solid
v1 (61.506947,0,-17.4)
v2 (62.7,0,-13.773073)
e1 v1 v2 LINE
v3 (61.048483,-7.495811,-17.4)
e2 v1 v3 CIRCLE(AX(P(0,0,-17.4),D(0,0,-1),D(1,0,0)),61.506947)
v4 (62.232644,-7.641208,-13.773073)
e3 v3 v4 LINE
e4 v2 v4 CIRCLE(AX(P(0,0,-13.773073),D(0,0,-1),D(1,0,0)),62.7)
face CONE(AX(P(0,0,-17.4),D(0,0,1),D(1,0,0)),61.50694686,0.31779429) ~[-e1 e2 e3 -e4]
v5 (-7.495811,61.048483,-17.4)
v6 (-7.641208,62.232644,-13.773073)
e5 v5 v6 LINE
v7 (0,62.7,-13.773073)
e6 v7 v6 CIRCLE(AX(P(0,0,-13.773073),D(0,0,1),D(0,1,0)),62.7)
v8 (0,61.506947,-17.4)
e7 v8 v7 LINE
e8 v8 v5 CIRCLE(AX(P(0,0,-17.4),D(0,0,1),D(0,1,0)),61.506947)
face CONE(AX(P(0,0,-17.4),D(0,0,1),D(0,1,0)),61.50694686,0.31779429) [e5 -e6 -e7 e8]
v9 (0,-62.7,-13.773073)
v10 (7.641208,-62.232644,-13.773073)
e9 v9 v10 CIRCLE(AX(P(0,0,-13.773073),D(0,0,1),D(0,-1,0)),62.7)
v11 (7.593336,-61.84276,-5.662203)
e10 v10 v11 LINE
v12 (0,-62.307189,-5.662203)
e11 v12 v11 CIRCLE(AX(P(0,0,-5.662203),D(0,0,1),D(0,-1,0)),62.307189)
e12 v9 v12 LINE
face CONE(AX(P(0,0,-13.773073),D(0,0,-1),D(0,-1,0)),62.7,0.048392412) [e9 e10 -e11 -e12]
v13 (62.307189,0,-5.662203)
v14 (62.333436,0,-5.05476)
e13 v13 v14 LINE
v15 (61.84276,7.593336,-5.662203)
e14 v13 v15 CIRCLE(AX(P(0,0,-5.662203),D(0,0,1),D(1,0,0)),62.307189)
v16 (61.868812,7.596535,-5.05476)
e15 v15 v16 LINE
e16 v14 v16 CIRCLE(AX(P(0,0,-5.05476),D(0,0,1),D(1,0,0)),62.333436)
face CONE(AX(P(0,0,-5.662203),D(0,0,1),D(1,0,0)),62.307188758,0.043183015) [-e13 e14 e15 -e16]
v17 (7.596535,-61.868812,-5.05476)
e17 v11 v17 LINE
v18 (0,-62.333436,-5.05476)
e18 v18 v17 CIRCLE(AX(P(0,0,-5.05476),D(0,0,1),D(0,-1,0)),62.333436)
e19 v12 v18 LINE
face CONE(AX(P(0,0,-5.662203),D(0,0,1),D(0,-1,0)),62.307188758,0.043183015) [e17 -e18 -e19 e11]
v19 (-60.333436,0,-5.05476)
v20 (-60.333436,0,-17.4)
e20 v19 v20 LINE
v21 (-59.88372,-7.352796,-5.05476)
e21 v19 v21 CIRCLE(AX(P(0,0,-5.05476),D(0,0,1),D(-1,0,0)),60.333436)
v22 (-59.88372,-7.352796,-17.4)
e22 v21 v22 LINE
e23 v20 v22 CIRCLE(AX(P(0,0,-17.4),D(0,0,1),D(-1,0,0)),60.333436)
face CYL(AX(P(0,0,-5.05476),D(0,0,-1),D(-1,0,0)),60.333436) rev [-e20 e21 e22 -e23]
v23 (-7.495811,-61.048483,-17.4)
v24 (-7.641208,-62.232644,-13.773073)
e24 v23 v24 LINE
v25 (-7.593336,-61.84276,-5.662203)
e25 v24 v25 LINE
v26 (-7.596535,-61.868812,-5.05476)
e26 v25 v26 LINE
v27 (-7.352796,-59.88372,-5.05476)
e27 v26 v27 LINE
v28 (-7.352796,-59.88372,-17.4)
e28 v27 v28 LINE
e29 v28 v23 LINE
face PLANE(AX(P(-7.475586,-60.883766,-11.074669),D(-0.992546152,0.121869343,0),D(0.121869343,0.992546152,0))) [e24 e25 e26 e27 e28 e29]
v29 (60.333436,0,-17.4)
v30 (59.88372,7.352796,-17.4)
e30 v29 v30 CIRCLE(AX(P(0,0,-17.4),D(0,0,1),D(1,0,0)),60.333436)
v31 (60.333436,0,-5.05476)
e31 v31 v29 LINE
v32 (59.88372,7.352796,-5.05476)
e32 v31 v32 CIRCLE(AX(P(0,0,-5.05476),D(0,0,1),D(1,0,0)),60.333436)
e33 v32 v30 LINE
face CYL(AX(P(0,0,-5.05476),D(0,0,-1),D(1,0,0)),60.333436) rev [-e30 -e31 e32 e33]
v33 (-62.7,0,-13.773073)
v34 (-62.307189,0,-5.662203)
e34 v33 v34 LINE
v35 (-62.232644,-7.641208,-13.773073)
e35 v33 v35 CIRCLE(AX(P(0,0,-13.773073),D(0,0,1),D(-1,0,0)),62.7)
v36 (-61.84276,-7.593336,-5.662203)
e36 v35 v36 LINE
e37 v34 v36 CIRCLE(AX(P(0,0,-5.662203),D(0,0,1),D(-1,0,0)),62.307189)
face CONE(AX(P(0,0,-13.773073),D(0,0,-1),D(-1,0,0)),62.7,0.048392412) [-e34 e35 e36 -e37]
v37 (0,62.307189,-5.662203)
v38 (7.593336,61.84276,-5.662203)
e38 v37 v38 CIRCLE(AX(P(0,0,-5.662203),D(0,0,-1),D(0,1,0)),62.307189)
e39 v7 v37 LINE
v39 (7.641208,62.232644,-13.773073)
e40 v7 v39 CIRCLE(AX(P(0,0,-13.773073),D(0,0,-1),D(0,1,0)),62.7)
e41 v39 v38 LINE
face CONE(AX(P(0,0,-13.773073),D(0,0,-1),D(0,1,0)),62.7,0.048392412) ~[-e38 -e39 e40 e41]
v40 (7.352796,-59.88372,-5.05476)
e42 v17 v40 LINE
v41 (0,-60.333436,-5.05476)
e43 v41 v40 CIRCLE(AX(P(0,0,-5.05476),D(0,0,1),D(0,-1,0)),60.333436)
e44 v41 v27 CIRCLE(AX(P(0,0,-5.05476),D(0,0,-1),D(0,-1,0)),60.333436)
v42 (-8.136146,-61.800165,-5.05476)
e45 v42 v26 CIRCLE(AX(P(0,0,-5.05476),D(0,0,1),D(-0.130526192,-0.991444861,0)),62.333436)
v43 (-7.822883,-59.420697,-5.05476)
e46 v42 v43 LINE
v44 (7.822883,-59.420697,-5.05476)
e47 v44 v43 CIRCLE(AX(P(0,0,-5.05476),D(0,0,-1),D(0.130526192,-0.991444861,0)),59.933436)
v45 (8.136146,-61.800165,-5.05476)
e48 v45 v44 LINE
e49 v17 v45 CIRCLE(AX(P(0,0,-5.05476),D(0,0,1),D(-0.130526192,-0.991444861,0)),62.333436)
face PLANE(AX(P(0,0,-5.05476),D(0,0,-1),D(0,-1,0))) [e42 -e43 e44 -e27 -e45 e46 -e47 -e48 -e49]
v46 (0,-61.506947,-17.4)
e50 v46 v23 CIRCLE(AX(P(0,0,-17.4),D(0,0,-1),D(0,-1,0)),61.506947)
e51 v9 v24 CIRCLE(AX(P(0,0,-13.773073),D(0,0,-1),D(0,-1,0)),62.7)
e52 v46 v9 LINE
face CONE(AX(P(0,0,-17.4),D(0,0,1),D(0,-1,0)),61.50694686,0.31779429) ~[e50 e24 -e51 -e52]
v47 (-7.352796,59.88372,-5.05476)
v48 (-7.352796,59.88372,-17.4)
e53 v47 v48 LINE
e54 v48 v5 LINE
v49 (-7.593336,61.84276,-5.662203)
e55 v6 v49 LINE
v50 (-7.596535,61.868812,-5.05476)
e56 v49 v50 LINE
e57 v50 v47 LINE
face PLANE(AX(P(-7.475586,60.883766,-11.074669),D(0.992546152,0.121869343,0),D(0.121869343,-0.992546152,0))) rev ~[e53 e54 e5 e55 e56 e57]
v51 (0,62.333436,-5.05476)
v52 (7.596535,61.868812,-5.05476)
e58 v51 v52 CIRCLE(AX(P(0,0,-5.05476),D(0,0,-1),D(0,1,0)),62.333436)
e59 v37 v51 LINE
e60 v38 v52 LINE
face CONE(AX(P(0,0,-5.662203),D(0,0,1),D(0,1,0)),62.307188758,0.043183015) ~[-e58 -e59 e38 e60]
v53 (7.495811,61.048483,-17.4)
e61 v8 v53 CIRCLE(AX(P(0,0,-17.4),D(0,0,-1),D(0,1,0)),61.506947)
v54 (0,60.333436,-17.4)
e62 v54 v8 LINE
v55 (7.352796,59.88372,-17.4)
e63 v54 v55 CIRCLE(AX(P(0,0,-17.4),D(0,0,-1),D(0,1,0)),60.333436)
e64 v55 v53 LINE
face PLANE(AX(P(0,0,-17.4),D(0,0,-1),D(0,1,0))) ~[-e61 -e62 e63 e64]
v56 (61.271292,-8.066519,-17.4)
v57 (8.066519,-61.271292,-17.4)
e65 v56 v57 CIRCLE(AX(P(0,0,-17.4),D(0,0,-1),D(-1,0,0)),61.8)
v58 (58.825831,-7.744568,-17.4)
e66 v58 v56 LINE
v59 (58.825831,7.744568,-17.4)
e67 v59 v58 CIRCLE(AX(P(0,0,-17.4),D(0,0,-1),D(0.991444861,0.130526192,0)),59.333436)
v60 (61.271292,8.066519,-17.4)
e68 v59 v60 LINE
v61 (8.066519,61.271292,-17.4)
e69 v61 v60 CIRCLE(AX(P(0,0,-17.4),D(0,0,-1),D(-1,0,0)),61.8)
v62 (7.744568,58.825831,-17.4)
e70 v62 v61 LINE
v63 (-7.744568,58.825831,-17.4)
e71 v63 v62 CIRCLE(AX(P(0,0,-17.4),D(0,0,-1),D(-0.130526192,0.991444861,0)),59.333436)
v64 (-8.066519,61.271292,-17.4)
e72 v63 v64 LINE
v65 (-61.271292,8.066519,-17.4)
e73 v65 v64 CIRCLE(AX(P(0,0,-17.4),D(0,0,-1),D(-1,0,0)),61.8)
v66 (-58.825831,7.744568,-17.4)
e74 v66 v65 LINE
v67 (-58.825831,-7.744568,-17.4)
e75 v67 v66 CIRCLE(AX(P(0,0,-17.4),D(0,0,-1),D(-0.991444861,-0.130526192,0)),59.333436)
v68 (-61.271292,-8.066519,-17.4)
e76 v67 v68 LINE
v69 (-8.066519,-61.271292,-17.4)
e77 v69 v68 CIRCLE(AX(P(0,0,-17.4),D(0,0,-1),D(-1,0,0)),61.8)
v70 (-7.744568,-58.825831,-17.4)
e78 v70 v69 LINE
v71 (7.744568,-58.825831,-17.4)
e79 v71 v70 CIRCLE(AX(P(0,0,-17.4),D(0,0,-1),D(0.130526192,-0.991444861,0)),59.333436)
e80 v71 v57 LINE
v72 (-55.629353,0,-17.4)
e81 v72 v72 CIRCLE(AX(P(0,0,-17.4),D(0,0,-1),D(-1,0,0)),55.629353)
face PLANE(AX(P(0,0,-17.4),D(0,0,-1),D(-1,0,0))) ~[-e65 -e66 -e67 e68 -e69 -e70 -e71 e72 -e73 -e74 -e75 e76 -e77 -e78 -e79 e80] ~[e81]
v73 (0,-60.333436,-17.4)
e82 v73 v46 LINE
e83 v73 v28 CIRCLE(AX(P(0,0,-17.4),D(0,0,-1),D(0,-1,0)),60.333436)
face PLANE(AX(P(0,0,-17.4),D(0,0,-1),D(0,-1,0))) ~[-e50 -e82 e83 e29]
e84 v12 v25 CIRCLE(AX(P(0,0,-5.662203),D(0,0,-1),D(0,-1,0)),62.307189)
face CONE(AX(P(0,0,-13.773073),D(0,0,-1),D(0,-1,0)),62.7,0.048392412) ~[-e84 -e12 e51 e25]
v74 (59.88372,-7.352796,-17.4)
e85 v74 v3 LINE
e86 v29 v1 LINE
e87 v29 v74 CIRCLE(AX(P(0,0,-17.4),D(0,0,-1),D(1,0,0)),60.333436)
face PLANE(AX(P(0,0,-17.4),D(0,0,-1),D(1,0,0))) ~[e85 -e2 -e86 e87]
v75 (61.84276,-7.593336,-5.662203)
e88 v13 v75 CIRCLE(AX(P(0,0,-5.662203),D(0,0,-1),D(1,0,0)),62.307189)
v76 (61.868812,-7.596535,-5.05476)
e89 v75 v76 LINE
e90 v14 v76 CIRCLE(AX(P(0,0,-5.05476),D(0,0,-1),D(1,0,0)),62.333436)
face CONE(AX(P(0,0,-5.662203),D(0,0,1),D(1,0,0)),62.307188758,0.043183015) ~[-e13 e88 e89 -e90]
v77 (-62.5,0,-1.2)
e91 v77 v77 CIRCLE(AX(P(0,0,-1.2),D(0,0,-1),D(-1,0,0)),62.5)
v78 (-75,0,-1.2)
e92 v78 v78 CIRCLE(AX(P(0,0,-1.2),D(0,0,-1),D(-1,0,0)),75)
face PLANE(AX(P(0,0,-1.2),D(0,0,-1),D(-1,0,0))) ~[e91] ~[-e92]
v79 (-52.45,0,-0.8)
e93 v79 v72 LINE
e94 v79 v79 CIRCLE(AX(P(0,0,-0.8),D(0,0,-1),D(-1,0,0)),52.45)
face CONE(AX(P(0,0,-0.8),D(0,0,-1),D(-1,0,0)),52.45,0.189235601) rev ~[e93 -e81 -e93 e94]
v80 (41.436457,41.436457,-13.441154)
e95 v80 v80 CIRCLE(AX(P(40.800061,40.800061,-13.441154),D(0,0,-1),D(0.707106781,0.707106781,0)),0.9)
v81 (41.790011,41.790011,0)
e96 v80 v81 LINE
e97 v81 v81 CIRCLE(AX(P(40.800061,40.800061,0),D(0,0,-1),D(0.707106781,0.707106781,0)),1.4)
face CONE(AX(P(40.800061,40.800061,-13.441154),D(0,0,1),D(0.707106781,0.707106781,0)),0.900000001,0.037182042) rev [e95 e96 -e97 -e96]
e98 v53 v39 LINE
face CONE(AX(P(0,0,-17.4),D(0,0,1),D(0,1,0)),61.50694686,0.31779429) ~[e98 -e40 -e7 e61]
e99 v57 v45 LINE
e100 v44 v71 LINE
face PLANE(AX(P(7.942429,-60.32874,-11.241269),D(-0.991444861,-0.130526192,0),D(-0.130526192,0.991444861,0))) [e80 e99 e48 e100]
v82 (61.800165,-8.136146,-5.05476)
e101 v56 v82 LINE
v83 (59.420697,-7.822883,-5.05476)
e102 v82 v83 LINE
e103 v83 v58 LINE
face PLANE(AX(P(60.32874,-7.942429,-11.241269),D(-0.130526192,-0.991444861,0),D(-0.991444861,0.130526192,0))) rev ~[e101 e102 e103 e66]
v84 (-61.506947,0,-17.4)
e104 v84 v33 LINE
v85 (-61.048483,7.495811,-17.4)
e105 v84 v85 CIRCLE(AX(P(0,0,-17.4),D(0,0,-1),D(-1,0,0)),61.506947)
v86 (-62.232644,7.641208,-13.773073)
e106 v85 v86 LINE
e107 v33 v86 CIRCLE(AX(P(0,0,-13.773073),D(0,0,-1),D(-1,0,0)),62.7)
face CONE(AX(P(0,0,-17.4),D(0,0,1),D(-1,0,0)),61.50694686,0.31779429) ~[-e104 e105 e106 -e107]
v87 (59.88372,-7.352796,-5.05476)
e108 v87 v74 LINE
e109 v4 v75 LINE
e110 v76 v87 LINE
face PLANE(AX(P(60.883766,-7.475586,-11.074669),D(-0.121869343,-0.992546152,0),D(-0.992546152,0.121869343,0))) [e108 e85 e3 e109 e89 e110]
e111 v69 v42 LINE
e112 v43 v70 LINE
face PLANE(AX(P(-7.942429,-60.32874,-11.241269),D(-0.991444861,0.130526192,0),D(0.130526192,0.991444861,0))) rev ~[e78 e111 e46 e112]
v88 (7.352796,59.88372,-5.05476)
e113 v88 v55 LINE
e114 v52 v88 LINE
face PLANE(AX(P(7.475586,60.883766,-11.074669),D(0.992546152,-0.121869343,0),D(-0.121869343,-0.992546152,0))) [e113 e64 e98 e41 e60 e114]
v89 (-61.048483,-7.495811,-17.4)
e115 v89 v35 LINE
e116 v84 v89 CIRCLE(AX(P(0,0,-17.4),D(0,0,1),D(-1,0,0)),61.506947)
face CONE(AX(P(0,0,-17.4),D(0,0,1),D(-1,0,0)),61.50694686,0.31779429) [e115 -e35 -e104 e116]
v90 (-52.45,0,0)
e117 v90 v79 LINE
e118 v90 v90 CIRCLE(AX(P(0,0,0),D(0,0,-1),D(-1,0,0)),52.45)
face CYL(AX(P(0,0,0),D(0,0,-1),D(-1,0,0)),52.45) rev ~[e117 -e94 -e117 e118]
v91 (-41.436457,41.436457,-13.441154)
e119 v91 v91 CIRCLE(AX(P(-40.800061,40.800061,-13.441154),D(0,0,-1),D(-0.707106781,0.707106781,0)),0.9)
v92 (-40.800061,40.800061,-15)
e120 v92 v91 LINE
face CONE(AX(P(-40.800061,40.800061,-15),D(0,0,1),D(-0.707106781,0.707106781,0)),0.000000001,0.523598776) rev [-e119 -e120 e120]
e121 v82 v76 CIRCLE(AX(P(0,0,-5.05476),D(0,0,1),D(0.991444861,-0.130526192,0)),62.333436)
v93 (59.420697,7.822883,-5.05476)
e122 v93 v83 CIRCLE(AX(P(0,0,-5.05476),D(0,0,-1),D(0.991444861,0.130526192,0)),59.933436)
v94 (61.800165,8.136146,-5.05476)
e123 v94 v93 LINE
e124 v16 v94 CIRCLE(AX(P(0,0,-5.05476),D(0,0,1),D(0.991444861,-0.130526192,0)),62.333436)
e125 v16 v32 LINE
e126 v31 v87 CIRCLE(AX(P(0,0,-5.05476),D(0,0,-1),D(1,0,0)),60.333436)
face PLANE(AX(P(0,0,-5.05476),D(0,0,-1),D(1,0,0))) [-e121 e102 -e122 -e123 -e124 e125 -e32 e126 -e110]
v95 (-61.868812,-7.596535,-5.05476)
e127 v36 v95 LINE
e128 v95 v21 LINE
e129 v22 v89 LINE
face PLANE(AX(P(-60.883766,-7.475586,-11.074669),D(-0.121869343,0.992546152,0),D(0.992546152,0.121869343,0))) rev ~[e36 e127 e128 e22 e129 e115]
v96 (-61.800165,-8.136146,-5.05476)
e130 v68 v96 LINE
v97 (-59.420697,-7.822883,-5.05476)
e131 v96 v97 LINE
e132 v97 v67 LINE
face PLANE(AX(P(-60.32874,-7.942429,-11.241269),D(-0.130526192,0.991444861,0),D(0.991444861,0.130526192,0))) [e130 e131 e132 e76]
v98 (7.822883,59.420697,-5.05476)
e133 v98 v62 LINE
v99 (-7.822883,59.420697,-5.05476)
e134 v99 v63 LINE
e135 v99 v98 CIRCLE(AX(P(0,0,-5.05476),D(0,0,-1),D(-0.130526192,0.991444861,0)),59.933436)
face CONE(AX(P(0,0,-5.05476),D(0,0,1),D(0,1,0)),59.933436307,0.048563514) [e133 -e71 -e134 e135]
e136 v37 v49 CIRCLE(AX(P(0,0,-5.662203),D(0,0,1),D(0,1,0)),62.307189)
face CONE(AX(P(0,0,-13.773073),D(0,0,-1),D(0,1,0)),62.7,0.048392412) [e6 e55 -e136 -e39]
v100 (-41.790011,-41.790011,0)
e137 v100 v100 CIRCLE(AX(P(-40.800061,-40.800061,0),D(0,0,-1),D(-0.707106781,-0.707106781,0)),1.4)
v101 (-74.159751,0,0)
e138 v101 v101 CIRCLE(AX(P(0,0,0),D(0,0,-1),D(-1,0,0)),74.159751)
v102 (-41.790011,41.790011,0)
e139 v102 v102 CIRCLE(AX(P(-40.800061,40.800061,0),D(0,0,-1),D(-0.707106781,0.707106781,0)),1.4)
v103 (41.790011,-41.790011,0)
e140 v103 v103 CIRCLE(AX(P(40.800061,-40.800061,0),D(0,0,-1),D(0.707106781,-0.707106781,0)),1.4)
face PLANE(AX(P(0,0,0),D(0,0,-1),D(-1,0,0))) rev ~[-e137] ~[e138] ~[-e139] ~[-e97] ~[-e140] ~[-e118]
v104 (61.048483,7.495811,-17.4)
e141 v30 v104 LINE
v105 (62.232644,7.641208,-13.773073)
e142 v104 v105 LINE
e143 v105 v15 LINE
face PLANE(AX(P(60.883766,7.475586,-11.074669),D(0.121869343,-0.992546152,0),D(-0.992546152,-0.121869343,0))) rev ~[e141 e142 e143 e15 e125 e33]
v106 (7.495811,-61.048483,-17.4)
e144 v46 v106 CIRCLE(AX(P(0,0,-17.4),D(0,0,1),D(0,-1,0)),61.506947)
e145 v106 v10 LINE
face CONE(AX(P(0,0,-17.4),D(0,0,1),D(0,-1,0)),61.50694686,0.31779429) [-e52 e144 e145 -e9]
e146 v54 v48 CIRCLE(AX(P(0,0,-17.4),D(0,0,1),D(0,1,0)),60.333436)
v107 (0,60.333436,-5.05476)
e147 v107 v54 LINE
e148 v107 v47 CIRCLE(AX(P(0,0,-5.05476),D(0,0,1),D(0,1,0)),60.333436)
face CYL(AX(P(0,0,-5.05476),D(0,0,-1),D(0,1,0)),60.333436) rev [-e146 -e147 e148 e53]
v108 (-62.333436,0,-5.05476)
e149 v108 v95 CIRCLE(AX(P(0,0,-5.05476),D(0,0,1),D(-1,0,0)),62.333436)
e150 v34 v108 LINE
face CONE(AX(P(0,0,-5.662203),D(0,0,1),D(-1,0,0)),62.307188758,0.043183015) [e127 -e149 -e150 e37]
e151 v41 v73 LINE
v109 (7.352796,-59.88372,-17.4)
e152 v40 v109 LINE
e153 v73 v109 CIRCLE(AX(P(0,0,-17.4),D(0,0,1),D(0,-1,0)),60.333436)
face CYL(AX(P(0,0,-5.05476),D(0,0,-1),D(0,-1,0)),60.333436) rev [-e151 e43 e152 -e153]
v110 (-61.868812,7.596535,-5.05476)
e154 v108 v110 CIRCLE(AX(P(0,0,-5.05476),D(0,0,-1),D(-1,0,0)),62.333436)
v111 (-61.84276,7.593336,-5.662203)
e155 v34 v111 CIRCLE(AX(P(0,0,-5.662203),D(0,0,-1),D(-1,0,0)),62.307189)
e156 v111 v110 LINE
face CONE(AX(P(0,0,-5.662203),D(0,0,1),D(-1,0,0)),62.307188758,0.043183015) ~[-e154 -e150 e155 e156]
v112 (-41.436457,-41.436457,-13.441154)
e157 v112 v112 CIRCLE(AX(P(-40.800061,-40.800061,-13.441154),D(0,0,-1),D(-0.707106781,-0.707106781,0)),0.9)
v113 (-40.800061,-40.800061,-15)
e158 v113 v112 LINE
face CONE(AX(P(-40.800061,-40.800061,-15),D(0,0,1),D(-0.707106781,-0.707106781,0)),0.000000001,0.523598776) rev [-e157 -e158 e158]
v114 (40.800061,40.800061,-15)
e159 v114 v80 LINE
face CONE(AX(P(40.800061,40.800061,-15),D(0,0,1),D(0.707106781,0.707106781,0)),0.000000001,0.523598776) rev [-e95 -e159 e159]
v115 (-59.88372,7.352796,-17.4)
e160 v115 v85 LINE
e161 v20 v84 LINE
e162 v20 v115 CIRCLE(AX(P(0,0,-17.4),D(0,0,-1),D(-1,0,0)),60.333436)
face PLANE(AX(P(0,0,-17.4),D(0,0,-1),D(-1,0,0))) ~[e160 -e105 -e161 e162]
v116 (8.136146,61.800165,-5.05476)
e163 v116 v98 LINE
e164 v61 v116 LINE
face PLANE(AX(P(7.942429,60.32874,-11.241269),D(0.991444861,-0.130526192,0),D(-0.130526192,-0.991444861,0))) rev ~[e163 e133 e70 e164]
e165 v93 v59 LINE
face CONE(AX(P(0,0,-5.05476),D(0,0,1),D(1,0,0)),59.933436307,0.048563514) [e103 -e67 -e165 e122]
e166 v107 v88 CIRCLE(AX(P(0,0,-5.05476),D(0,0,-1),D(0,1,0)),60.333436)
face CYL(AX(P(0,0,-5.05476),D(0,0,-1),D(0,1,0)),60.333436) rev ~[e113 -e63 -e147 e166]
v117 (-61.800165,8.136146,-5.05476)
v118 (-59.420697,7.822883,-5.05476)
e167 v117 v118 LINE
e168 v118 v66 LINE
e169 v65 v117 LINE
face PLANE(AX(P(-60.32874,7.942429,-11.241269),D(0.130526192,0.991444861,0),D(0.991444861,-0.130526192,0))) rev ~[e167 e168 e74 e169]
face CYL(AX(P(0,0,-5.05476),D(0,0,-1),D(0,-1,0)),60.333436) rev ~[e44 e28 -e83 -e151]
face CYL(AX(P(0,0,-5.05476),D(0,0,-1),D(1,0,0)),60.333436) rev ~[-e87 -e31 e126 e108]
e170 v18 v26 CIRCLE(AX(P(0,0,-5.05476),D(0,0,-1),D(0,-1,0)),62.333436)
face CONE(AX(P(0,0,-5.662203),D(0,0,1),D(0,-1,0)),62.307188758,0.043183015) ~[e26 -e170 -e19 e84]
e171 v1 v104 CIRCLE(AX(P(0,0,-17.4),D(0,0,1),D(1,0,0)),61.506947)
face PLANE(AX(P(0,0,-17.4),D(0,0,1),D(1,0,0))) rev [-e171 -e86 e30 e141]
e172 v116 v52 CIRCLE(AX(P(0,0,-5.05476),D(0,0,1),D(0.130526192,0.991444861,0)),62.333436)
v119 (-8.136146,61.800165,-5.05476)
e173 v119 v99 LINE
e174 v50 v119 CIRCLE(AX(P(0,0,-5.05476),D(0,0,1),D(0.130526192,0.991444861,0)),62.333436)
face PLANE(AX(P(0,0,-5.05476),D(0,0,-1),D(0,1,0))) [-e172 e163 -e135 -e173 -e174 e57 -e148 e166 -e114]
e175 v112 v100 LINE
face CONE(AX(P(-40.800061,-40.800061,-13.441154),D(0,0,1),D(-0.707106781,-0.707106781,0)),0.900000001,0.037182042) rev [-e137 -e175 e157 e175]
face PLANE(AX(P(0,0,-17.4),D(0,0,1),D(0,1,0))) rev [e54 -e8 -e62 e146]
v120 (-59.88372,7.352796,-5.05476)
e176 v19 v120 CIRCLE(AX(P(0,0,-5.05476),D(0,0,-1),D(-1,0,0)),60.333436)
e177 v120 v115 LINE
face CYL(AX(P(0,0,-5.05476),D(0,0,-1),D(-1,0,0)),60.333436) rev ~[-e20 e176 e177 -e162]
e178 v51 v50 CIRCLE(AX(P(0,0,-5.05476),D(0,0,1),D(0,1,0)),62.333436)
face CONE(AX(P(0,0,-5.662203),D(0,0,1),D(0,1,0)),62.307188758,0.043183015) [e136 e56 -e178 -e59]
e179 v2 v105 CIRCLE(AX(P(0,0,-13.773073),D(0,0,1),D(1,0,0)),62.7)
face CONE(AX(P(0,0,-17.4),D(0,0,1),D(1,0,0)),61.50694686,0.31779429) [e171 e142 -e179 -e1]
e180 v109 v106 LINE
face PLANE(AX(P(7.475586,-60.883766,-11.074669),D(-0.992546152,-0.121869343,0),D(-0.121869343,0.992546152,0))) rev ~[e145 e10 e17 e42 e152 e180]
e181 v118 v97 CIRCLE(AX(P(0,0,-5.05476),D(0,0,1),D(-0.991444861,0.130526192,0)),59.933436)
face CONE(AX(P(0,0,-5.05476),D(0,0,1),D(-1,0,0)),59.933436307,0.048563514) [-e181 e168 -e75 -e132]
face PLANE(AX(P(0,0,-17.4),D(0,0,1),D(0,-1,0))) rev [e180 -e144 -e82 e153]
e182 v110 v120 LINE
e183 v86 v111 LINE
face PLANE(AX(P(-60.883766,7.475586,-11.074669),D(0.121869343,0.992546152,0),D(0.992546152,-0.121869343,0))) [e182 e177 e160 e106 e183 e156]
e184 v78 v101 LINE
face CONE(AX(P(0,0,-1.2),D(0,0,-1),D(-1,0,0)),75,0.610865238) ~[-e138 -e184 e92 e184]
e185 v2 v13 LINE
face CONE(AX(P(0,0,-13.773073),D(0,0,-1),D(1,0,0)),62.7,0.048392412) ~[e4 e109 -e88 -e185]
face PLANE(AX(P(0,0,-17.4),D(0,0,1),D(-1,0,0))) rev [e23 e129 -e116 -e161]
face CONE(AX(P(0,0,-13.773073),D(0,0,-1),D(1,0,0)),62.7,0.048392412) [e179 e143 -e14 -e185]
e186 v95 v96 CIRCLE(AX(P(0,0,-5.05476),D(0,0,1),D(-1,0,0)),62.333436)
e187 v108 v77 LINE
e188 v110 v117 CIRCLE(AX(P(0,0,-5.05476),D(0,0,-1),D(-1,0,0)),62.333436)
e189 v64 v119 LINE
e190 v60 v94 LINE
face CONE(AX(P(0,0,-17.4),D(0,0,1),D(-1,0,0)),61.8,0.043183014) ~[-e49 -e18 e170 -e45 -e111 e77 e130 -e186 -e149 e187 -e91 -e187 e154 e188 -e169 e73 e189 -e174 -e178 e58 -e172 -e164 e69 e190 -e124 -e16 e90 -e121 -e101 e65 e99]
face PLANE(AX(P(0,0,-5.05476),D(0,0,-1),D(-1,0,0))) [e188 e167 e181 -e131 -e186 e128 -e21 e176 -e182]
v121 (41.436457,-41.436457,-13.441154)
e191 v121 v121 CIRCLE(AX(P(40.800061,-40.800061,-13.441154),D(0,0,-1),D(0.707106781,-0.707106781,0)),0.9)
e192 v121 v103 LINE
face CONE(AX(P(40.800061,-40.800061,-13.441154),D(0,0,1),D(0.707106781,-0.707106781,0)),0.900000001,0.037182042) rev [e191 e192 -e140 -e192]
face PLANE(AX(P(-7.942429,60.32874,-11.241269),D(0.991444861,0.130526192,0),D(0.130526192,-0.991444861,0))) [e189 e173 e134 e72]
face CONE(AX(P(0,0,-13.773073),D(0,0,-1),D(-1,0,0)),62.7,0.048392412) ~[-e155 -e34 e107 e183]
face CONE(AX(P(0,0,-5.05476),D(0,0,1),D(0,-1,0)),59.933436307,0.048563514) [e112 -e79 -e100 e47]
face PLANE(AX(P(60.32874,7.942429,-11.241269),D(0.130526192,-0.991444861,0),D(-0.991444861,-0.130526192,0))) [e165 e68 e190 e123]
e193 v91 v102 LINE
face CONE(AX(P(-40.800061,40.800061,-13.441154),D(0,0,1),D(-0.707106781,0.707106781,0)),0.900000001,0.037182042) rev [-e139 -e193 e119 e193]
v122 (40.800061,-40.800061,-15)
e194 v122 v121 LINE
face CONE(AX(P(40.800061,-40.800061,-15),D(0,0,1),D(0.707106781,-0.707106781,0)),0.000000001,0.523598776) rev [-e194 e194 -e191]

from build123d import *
from build123d.topology import SkipClean

# Parameters (mm, degrees)
CLAMP_CUTOFF_ANGLE = 15
CLAMP_BODY_ANGLE   = 14
CLAMP_ARRAY_COUNT  = 4
HOLES_ARRAY_COUNT  = 4


with BuildPart() as part:
    # Main_profile → Main_body (revolve)
    with BuildSketch(Plane(origin=(0, 0, 0), x_dir=(1, 0, 0), z_dir=(0, 1, 0))):
        Polygon((-75, 1.2), (-74.159750954, 0), (-52.45, 0), (-52.45, 0.8), (-55.629352876, 17.4), (-61.8, 17.4), (-62.5, 1.2), align=None)
    revolve(axis=Axis((0, 0, 21.596985385), (0, 0, -1)))

    # Эскиз1<8> → clamp_cutoff (revolve, symmetric, cut)
    with BuildSketch(Plane(origin=(0, 0, 0), x_dir=(1, 0, 0), z_dir=(0, 1, 0))) as clamp_cutoff_sk:
        Polygon((-62.333436307, 5.054759753), (-59.933436307, 5.054759753), (-59.333436307, 17.4), (-61.8, 17.4), align=None)
    clamp_cutoff = revolve(axis=Axis((0, 0, 21.596985385), (0, 0, -1)), revolution_arc=CLAMP_CUTOFF_ANGLE / 2, mode=Mode.SUBTRACT)
    clamp_cutoff = clamp_cutoff + revolve(clamp_cutoff_sk.sketch, axis=Axis((0, 0, 21.596985385), (0, 0, 1)), revolution_arc=CLAMP_CUTOFF_ANGLE / 2, mode=Mode.SUBTRACT)

    # Эскиз1<10> → Clamp_body (revolve, symmetric)
    with SkipClean():  # the faces are left unmerged after this step: merging them gives an invalid solid
        with BuildSketch(Plane(origin=(0, 0, 0), x_dir=(1, 0, 0), z_dir=(0, 1, 0))) as clamp_body_sk:
            Polygon((-62.307188758, 5.662203024), (-62.333436307, 5.054759753), (-60.333436307, 5.054759753), (-60.333436307, 17.4), (-61.50694686, 17.4), (-62.7, 13.77307305), align=None)
        clamp_body = revolve(axis=Axis((0, 0, 21.596985385), (0, 0, -1)), revolution_arc=CLAMP_BODY_ANGLE / 2)
        clamp_body = clamp_body + revolve(clamp_body_sk.sketch, axis=Axis((0, 0, 21.596985385), (0, 0, 1)), revolution_arc=CLAMP_BODY_ANGLE / 2)

    # Clamp_array: clamp_cutoff, Clamp_body ×4 about axis
    with SkipClean():  # the faces are left unmerged after this step: merging them gives an invalid solid
        clamp_array_axis = Axis((0, 0, -17.4), (0, 0, 1))
        add([clamp_cutoff.rotate(clamp_array_axis, i * 360 / CLAMP_ARRAY_COUNT) for i in range(1, CLAMP_ARRAY_COUNT)], mode=Mode.SUBTRACT)
        add([clamp_body.rotate(clamp_array_axis, i * 360 / CLAMP_ARRAY_COUNT) for i in range(1, CLAMP_ARRAY_COUNT)])

    # Hole_profile → Hole (revolve, cut)
    with SkipClean():  # the faces are left unmerged after this step: merging them gives an invalid solid
        with BuildSketch(Plane(origin=(0, 0, 0), x_dir=(0, 0, -1), z_dir=(0.7071067811865488, 0.7071067811865464, 0))):
            Polygon((0, 59.1), (0, 57.7), (15, 57.7), (13.441154273, 58.6), align=None)
        hole = revolve(axis=Axis((-40.800061274, 40.800061274, 2.268978304), (0, 0, -1)), mode=Mode.SUBTRACT)

    # Holes_array: Hole ×4 about axis
    with SkipClean():  # the faces are left unmerged after this step: merging them gives an invalid solid
        holes_array_axis = Axis((0, 0, 0), (0, 0, 1))
        for i in range(1, HOLES_ARRAY_COUNT):
            add(hole.rotate(holes_array_axis, i * 360 / HOLES_ARRAY_COUNT), mode=Mode.SUBTRACT)


solid = part.part
